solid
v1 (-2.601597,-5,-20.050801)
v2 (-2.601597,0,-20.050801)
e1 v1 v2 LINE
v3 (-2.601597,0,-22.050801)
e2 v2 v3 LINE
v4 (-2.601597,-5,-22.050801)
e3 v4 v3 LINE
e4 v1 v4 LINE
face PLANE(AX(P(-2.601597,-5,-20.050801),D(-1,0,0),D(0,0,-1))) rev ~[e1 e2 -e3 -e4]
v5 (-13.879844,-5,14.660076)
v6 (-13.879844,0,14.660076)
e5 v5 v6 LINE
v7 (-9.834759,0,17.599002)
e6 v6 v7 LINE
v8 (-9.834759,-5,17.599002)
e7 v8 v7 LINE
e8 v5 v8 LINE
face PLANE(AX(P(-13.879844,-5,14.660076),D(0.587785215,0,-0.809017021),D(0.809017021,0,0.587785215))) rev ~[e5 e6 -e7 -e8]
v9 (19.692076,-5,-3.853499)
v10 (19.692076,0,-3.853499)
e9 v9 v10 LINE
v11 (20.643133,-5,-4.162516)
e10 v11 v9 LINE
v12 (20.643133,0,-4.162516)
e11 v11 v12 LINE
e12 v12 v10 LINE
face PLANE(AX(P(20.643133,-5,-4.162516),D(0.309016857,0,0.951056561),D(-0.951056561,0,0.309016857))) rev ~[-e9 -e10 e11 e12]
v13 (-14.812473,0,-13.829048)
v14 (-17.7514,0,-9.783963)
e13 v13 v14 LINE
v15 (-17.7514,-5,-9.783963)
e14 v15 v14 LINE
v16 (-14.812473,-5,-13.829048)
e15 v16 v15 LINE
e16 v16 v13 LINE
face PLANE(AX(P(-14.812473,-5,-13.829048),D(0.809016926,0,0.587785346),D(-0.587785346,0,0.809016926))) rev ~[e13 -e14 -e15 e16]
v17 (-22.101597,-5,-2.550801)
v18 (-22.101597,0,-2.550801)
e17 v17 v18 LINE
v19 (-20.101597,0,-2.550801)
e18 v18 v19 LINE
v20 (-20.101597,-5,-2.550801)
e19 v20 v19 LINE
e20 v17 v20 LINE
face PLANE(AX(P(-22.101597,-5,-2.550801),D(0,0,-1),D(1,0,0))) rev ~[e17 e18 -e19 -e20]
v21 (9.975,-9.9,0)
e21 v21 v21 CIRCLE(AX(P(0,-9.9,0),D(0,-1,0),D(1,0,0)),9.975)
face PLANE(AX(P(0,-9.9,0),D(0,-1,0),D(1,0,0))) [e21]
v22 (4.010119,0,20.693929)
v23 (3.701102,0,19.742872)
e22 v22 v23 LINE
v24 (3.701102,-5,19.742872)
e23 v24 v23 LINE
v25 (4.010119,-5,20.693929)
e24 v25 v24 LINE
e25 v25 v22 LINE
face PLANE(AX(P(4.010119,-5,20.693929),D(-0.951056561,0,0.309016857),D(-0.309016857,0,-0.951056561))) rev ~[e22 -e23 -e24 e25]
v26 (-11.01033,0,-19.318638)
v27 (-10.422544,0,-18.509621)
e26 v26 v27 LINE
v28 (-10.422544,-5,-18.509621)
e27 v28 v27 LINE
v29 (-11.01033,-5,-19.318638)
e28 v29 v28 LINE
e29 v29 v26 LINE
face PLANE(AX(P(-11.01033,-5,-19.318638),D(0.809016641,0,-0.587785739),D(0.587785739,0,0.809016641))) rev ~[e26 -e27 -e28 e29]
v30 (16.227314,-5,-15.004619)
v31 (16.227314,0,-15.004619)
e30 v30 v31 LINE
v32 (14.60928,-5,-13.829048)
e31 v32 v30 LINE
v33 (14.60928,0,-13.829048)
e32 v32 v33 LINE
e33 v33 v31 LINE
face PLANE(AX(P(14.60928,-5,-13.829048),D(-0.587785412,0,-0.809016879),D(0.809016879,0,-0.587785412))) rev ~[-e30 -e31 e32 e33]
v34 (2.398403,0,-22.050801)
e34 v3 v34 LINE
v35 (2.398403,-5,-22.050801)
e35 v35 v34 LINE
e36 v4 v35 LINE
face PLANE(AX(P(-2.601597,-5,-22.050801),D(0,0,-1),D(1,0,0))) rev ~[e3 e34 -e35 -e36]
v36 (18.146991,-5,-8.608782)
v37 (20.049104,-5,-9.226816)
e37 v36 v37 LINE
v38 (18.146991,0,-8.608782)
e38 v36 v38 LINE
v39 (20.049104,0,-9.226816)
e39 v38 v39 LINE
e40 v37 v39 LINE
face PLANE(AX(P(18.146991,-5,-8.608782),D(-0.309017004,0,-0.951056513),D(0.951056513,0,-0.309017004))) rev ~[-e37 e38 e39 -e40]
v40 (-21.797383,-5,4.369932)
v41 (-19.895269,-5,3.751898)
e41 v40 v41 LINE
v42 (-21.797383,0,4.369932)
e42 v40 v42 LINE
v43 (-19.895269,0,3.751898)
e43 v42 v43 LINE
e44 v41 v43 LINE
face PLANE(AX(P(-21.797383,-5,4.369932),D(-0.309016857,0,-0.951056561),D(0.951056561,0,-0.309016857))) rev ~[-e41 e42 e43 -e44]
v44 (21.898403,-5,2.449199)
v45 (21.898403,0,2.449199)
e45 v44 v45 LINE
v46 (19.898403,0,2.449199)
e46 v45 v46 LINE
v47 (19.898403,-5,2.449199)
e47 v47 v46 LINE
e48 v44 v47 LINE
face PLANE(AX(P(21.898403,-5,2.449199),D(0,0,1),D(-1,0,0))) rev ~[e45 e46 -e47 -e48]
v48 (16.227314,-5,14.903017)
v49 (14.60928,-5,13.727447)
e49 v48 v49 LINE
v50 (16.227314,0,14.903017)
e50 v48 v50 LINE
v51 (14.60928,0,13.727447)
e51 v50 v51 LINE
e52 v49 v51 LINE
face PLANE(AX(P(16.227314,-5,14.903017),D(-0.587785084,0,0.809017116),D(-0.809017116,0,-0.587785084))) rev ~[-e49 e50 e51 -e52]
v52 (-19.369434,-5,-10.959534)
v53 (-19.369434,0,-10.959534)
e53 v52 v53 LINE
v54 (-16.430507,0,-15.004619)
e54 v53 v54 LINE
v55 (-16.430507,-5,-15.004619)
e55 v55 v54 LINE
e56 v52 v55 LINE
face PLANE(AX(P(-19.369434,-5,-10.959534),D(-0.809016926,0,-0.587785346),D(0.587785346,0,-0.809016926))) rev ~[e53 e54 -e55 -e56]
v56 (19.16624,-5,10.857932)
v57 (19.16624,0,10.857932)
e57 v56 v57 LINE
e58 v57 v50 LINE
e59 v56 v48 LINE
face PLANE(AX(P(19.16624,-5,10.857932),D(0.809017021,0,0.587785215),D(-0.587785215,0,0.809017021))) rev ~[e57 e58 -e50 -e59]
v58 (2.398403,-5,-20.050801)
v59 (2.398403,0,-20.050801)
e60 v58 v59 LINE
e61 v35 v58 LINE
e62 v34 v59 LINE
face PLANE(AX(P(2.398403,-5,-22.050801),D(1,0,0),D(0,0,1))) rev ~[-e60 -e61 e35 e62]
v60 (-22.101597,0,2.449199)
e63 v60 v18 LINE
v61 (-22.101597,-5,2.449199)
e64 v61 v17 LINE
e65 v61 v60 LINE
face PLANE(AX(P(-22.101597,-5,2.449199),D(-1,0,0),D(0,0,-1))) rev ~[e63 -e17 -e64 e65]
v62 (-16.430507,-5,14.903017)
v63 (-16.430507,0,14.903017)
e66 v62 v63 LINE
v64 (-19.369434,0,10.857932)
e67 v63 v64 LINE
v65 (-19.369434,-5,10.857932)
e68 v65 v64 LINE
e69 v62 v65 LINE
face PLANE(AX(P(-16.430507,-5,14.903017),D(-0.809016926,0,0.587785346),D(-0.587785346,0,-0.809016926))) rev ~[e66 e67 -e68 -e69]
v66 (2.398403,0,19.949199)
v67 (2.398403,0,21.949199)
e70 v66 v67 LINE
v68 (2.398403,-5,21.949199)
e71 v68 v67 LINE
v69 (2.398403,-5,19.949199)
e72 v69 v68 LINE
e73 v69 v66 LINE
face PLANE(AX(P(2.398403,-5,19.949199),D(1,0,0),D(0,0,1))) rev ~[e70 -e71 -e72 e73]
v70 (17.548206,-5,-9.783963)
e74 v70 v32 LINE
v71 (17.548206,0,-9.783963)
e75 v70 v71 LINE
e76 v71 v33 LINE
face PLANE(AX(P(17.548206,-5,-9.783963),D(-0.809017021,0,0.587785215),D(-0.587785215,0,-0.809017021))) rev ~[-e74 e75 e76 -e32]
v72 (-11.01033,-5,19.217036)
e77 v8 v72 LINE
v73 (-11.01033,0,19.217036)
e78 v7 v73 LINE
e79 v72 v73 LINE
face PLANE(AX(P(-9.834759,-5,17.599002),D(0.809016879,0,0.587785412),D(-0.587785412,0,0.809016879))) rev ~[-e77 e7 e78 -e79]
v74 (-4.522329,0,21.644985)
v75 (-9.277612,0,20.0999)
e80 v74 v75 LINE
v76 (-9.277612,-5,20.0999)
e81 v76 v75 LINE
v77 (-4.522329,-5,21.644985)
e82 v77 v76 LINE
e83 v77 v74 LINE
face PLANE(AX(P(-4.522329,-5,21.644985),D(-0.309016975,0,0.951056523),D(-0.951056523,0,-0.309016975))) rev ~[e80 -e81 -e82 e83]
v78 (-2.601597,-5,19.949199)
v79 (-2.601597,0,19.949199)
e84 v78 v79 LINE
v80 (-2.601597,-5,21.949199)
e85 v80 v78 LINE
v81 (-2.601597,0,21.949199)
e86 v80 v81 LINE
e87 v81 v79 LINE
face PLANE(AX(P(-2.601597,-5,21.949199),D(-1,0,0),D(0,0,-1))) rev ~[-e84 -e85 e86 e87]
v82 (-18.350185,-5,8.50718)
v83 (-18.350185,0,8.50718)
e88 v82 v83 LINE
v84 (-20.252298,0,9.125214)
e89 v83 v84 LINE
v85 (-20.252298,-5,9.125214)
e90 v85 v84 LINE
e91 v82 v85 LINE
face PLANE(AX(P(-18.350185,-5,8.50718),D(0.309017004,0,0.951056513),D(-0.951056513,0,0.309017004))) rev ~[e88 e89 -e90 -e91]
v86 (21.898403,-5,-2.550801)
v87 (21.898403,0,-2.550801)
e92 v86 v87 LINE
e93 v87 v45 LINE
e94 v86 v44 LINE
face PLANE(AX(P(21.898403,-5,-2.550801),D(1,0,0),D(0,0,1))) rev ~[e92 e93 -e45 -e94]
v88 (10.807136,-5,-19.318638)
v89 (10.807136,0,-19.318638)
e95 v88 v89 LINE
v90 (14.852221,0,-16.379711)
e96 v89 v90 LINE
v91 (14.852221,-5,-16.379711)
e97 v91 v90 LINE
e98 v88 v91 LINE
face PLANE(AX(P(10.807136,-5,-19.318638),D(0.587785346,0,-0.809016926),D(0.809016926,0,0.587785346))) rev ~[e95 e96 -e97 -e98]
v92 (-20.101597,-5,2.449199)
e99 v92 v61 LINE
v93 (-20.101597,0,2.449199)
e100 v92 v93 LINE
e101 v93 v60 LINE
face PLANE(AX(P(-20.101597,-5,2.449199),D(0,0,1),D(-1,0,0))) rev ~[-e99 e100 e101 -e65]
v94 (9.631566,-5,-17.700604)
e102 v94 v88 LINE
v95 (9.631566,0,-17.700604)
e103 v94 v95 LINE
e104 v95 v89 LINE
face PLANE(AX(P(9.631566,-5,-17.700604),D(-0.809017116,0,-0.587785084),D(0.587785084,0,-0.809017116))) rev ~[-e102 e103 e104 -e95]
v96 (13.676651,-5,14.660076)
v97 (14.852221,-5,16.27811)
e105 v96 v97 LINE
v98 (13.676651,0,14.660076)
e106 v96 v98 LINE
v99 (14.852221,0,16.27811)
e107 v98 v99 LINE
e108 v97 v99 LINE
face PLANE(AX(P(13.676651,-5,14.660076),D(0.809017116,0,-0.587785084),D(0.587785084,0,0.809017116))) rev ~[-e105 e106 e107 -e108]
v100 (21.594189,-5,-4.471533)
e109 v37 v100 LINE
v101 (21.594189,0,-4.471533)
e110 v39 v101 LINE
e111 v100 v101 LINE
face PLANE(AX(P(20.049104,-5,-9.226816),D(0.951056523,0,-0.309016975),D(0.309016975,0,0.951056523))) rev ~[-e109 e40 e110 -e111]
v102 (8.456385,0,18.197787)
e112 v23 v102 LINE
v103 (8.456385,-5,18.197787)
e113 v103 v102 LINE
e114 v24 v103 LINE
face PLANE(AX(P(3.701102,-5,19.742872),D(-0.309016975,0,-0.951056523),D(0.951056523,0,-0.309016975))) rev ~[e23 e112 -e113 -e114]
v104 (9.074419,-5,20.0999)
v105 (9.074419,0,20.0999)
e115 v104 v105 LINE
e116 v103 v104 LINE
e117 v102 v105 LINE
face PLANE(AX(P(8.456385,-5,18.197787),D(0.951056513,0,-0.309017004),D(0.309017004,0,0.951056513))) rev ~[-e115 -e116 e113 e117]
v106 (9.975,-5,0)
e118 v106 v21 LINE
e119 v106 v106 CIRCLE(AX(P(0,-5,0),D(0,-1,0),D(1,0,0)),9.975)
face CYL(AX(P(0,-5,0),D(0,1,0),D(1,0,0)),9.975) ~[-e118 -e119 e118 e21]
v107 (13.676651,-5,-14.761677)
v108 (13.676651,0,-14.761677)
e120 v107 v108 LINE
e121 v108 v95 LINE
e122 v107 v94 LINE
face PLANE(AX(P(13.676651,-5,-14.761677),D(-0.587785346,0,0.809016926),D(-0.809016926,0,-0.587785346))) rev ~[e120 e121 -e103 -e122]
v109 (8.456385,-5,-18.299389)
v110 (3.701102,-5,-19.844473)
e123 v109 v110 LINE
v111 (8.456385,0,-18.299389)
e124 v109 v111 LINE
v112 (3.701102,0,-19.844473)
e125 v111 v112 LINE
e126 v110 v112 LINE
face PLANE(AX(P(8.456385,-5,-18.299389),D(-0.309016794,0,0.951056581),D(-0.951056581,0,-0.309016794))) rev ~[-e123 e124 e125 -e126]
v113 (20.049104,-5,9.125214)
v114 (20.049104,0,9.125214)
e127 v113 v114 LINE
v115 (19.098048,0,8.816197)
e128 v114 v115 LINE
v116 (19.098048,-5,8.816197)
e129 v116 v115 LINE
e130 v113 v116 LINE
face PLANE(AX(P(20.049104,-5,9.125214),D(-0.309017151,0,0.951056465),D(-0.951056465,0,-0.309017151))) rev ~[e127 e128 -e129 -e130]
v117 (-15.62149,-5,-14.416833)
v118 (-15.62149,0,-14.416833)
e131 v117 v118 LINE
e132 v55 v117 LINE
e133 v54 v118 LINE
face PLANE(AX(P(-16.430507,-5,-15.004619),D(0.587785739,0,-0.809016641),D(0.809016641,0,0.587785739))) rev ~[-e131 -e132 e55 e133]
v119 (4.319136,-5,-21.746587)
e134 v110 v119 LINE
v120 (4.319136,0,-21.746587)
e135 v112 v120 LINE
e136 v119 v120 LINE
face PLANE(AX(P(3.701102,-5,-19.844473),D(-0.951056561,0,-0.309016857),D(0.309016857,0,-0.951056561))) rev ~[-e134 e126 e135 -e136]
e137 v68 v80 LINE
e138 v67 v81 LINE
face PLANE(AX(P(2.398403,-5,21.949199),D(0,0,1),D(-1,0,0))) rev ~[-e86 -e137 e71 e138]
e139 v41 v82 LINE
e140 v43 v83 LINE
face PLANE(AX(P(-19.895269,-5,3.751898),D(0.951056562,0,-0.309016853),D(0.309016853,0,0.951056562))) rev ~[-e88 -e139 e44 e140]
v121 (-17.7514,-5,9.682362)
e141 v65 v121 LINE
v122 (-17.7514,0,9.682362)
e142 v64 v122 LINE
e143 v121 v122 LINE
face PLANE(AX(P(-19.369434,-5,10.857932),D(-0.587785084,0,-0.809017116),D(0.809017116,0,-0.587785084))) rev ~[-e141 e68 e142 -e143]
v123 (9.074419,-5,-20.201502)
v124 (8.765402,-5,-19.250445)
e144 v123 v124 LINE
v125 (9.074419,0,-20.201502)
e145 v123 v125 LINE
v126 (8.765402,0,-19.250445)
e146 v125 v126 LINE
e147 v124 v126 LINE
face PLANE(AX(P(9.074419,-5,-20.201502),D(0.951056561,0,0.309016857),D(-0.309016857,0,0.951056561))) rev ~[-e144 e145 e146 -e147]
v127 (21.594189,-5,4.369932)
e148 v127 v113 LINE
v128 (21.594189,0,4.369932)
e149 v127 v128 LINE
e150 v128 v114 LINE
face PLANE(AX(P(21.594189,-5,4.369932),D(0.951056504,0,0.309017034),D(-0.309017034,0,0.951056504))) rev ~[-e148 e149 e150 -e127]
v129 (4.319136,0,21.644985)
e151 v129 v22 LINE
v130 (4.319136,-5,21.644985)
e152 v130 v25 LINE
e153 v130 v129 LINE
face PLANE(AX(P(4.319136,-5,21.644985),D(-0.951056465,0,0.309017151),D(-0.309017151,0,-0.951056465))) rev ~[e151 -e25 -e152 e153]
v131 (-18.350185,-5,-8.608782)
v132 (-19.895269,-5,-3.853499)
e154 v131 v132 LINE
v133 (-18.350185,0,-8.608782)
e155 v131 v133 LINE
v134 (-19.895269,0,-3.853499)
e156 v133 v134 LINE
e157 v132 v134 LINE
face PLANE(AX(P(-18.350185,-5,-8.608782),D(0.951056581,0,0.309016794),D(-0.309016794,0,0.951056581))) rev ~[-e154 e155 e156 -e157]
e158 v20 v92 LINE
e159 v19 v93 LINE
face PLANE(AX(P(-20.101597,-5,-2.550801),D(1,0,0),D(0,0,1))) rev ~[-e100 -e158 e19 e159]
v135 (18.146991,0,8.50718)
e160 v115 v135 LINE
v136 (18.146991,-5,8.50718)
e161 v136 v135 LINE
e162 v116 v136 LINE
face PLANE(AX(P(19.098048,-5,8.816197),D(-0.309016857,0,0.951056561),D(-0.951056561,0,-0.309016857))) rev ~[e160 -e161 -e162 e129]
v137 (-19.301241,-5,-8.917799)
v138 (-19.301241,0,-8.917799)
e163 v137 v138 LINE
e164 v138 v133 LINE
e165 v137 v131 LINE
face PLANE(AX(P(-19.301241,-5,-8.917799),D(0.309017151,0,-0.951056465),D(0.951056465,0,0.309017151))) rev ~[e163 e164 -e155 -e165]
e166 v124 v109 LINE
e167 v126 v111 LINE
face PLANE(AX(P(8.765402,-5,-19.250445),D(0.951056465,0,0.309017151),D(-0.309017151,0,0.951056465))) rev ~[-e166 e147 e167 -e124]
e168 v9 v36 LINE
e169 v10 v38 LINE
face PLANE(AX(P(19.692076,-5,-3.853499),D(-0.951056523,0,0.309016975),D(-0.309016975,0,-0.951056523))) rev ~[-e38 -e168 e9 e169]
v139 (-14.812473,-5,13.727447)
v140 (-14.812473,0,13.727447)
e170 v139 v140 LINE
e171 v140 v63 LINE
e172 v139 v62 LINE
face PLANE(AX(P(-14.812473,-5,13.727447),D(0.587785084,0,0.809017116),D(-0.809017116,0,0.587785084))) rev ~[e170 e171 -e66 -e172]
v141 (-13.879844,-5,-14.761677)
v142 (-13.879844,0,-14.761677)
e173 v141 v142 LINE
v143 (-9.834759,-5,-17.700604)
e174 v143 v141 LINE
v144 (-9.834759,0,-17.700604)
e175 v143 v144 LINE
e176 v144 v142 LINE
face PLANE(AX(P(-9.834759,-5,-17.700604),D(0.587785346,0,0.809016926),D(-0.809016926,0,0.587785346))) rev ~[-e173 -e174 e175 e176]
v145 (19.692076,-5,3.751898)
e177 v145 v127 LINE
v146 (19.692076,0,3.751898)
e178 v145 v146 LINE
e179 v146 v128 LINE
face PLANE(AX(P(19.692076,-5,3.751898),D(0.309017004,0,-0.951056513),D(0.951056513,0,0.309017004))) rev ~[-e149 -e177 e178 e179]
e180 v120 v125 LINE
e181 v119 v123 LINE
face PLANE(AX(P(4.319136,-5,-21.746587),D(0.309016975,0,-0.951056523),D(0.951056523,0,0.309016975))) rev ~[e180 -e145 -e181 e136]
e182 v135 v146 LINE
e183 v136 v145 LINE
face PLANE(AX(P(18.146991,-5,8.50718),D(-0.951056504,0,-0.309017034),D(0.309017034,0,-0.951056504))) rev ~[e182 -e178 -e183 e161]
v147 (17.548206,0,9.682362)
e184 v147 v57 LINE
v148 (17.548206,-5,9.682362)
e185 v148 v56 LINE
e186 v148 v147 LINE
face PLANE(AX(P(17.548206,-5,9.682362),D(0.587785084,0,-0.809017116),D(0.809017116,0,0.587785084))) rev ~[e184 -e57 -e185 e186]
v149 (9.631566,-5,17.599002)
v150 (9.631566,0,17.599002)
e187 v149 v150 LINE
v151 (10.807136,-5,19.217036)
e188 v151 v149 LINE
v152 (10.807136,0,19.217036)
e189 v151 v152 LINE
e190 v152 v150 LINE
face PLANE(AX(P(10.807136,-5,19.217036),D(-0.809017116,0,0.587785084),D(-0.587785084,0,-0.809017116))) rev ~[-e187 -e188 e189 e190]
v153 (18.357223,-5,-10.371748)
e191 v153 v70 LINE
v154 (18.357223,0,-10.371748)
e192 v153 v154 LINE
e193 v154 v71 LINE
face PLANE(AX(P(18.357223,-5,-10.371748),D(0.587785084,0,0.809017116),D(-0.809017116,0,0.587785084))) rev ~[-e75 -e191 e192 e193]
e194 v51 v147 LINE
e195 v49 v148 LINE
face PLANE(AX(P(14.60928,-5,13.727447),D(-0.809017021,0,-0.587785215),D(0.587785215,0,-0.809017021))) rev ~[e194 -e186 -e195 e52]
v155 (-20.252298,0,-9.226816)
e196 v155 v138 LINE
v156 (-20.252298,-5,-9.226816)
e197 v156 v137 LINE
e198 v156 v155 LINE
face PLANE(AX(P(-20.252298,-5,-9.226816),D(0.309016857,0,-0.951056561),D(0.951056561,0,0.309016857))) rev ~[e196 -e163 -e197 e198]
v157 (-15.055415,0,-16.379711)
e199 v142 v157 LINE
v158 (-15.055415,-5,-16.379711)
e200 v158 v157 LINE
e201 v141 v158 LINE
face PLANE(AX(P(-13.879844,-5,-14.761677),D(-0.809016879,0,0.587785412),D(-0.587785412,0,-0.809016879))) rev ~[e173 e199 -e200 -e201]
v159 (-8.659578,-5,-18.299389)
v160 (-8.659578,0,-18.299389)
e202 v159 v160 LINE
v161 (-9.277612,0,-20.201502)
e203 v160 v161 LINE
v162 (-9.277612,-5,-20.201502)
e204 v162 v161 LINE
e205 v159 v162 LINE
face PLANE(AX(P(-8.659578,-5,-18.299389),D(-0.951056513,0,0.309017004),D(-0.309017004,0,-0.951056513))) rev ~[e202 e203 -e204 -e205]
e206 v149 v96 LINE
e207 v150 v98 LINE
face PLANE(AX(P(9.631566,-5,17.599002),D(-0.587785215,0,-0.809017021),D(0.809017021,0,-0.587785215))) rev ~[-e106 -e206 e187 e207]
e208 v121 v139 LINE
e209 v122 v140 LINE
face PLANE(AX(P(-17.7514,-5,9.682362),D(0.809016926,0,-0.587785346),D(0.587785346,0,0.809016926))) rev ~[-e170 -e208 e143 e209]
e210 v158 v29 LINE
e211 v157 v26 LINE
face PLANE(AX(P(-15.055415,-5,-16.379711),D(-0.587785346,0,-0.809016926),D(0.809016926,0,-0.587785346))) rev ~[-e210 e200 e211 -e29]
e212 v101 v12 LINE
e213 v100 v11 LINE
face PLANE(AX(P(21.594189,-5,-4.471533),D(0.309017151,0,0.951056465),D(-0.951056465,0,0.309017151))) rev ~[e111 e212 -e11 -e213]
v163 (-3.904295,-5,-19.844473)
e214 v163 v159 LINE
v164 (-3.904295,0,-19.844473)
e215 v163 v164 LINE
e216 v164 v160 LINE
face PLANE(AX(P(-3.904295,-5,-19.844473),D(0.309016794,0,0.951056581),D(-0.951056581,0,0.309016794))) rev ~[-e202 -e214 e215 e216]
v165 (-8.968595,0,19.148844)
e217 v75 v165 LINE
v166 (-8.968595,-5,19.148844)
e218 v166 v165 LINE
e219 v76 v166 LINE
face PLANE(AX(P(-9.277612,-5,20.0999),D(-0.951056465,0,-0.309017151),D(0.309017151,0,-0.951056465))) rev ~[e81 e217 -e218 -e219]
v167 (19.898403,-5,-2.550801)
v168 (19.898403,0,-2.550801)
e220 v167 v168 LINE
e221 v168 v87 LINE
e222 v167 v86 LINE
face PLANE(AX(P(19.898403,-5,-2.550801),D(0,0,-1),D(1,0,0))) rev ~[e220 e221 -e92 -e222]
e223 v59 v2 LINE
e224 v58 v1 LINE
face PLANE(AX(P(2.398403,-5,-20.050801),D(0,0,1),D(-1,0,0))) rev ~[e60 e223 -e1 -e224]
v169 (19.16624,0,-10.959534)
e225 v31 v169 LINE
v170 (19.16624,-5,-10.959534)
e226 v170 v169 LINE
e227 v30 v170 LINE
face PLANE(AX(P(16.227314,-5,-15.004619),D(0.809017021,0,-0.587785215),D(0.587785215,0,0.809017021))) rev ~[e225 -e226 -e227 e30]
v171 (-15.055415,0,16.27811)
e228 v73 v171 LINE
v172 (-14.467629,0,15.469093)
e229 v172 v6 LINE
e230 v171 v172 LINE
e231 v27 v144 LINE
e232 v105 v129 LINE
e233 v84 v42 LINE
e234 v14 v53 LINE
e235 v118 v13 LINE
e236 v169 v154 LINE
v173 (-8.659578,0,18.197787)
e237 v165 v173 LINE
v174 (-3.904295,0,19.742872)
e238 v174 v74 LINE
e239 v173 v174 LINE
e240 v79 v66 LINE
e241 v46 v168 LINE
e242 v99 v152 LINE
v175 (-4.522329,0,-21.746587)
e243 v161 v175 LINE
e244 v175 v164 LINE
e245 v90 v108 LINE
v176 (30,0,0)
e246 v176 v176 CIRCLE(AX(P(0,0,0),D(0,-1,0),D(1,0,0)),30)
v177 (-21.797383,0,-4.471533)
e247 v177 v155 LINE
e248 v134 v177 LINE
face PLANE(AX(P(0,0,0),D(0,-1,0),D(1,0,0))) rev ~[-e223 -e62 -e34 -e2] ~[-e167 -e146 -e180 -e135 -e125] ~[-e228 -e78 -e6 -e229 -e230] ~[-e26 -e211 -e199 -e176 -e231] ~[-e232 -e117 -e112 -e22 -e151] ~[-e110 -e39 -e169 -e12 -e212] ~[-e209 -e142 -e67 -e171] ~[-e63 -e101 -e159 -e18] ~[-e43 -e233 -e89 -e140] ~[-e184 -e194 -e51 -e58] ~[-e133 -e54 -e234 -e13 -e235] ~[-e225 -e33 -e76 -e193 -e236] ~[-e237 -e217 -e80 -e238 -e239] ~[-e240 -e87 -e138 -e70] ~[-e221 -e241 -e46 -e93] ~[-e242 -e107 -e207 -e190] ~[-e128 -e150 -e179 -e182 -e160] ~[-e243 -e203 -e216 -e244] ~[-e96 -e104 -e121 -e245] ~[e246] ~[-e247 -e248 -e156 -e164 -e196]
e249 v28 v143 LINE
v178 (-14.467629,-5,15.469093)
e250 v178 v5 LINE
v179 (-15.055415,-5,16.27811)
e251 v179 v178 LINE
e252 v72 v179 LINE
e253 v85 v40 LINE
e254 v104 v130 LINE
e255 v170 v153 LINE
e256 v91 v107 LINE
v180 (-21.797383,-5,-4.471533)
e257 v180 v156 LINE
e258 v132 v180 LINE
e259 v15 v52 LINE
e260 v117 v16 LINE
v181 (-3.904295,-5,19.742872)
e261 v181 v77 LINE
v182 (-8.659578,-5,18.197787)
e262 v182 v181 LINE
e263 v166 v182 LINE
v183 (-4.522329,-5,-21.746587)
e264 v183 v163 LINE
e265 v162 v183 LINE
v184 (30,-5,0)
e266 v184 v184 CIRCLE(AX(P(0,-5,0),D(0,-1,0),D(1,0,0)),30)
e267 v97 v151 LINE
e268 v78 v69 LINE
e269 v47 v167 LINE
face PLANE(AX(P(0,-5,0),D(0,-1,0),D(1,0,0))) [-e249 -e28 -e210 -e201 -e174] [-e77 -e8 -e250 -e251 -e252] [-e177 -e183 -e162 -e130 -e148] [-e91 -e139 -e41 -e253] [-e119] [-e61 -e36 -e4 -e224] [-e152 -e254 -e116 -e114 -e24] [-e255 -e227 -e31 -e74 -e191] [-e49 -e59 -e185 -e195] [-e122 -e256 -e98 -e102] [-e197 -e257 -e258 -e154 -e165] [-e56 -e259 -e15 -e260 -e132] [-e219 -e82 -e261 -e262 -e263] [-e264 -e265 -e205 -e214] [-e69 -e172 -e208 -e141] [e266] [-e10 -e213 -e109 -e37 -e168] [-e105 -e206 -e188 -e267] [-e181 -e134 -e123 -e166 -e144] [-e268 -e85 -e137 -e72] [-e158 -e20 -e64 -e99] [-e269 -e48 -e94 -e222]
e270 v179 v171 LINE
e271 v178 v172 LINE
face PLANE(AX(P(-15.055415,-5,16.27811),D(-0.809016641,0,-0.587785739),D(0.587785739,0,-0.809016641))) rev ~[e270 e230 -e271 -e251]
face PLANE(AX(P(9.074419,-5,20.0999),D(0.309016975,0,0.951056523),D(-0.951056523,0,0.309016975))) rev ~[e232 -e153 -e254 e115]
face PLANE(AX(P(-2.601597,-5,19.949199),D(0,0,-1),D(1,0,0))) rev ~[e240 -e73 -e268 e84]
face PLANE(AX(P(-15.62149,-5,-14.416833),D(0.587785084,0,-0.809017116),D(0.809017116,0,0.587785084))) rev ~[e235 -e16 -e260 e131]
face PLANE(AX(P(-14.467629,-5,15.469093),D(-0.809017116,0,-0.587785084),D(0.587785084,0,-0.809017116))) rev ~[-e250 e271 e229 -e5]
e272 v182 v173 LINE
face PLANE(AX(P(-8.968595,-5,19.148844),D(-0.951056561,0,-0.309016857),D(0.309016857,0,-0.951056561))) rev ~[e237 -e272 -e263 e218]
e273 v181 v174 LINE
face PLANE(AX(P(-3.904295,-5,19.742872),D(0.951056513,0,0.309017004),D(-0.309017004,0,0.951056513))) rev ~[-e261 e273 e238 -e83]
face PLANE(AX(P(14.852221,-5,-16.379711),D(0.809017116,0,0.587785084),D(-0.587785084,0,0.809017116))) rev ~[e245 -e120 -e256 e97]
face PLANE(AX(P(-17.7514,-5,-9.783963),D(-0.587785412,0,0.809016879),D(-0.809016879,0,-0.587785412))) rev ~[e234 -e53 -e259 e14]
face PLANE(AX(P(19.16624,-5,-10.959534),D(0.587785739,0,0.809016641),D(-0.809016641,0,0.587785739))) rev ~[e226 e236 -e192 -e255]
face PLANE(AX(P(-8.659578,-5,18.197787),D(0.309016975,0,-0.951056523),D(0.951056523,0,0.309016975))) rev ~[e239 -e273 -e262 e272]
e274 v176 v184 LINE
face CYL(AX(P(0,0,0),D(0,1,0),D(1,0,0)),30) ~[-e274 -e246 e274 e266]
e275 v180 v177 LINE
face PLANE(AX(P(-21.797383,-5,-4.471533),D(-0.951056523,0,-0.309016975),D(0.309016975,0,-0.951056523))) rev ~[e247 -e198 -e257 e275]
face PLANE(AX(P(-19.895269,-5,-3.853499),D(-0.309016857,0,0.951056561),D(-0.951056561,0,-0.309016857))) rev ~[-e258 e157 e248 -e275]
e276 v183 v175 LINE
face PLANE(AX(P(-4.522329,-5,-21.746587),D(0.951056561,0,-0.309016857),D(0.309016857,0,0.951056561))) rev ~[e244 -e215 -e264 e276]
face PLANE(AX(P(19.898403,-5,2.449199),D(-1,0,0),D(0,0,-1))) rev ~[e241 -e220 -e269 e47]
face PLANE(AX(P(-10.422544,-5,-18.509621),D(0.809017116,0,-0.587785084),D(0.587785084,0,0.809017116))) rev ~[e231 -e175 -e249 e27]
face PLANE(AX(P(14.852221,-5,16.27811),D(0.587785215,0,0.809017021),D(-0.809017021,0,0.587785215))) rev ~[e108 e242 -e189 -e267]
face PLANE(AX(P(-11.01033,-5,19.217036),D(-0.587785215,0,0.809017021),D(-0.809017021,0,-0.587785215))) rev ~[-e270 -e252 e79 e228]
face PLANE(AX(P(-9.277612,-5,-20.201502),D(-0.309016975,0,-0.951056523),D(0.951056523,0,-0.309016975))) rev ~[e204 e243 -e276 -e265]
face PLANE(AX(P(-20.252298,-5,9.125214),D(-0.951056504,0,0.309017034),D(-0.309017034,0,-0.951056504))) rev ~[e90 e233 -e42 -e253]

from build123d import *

# Parameters (mm, degrees)
F0_R     = 30
F1_DEPTH = 5
F3_DEPTH = 5.001
F4_R     = 9.975
F5_DEPTH = 4.9


with BuildPart() as f1:
    # F0 (on Front) → F1 (new body)
    with BuildSketch(Plane.XZ):
        Circle(F0_R)
    extrude(amount=F1_DEPTH)

    # F2 (on face) → F3 (cut, through all)
    with BuildSketch(Plane.XZ.offset(5)):
        Polygon((-2.601597, 21.949199), (-2.601597, 20.949199), (-2.601597, 19.949199), (2.398403, 19.949199), (2.398403, 21.949199), align=None)
        Polygon((-4.522329, 21.644985), (-9.277612, 20.0999), (-8.968595, 19.148844), (-8.659578, 18.197787), (-3.904295, 19.742872), align=None)
        Polygon((-11.01033, 19.217036), (-15.055415, 16.27811), (-14.467629, 15.469093), (-13.879844, 14.660076), (-9.834759, 17.599002), align=None)
        Polygon((-16.430507, 14.903017), (-19.369434, 10.857932), (-18.560417, 10.270147), (-17.7514, 9.682362), (-14.812473, 13.727447), align=None)
        Polygon((-20.252298, 9.125214), (-21.797383, 4.369932), (-20.846326, 4.060915), (-19.895269, 3.751898), (-18.350185, 8.50718), align=None)
        Polygon((-22.101597, 2.449199), (-22.101597, -2.550801), (-21.101597, -2.550801), (-20.101597, -2.550801), (-20.101597, 2.449199), align=None)
        Polygon((-21.797383, -4.471533), (-20.252298, -9.226816), (-19.301241, -8.917799), (-18.350185, -8.608782), (-19.895269, -3.853499), align=None)
        Polygon((-19.369434, -10.959534), (-16.430507, -15.004619), (-15.62149, -14.416833), (-14.812473, -13.829048), (-17.7514, -9.783963), align=None)
        Polygon((-15.055415, -16.379711), (-11.01033, -19.318638), (-10.422544, -18.509621), (-9.834759, -17.700604), (-13.879844, -14.761677), align=None)
        Polygon((-9.277612, -20.201502), (-4.522329, -21.746587), (-4.213312, -20.79553), (-3.904295, -19.844473), (-8.659578, -18.299389), align=None)
        Polygon((-2.601597, -22.050801), (2.398403, -22.050801), (2.398403, -21.050801), (2.398403, -20.050801), (-2.601597, -20.050801), align=None)
        Polygon((4.319136, -21.746587), (9.074419, -20.201502), (8.765402, -19.250445), (8.456385, -18.299389), (3.701102, -19.844473), align=None)
        Polygon((10.807136, -19.318638), (14.852221, -16.379711), (14.264436, -15.570694), (13.676651, -14.761677), (9.631566, -17.700604), align=None)
        Polygon((16.227314, -15.004619), (19.16624, -10.959534), (18.357223, -10.371748), (17.548206, -9.783963), (14.60928, -13.829048), align=None)
        Polygon((20.049104, -9.226816), (21.594189, -4.471533), (20.643133, -4.162516), (19.692076, -3.853499), (18.146991, -8.608782), align=None)
        Polygon((21.898403, -2.550801), (21.898403, 2.449199), (20.898403, 2.449199), (19.898403, 2.449199), (19.898403, -2.550801), align=None)
        Polygon((21.594189, 4.369932), (20.049104, 9.125214), (19.098048, 8.816197), (18.146991, 8.50718), (19.692076, 3.751898), align=None)
        Polygon((19.16624, 10.857932), (16.227314, 14.903017), (15.418297, 14.315232), (14.60928, 13.727447), (17.548206, 9.682362), align=None)
        Polygon((14.852221, 16.27811), (10.807136, 19.217036), (10.219351, 18.408019), (9.631566, 17.599002), (13.676651, 14.660076), align=None)
        Polygon((9.074419, 20.0999), (4.319136, 21.644985), (4.010119, 20.693929), (3.701102, 19.742872), (8.456385, 18.197787), align=None)
    extrude(amount=-F3_DEPTH, mode=Mode.SUBTRACT)

    # F4 (on face) → F5 (join)
    with BuildSketch(Plane.XZ.offset(5)):
        Circle(F4_R)
    extrude(amount=F5_DEPTH)


solid = f1.part
